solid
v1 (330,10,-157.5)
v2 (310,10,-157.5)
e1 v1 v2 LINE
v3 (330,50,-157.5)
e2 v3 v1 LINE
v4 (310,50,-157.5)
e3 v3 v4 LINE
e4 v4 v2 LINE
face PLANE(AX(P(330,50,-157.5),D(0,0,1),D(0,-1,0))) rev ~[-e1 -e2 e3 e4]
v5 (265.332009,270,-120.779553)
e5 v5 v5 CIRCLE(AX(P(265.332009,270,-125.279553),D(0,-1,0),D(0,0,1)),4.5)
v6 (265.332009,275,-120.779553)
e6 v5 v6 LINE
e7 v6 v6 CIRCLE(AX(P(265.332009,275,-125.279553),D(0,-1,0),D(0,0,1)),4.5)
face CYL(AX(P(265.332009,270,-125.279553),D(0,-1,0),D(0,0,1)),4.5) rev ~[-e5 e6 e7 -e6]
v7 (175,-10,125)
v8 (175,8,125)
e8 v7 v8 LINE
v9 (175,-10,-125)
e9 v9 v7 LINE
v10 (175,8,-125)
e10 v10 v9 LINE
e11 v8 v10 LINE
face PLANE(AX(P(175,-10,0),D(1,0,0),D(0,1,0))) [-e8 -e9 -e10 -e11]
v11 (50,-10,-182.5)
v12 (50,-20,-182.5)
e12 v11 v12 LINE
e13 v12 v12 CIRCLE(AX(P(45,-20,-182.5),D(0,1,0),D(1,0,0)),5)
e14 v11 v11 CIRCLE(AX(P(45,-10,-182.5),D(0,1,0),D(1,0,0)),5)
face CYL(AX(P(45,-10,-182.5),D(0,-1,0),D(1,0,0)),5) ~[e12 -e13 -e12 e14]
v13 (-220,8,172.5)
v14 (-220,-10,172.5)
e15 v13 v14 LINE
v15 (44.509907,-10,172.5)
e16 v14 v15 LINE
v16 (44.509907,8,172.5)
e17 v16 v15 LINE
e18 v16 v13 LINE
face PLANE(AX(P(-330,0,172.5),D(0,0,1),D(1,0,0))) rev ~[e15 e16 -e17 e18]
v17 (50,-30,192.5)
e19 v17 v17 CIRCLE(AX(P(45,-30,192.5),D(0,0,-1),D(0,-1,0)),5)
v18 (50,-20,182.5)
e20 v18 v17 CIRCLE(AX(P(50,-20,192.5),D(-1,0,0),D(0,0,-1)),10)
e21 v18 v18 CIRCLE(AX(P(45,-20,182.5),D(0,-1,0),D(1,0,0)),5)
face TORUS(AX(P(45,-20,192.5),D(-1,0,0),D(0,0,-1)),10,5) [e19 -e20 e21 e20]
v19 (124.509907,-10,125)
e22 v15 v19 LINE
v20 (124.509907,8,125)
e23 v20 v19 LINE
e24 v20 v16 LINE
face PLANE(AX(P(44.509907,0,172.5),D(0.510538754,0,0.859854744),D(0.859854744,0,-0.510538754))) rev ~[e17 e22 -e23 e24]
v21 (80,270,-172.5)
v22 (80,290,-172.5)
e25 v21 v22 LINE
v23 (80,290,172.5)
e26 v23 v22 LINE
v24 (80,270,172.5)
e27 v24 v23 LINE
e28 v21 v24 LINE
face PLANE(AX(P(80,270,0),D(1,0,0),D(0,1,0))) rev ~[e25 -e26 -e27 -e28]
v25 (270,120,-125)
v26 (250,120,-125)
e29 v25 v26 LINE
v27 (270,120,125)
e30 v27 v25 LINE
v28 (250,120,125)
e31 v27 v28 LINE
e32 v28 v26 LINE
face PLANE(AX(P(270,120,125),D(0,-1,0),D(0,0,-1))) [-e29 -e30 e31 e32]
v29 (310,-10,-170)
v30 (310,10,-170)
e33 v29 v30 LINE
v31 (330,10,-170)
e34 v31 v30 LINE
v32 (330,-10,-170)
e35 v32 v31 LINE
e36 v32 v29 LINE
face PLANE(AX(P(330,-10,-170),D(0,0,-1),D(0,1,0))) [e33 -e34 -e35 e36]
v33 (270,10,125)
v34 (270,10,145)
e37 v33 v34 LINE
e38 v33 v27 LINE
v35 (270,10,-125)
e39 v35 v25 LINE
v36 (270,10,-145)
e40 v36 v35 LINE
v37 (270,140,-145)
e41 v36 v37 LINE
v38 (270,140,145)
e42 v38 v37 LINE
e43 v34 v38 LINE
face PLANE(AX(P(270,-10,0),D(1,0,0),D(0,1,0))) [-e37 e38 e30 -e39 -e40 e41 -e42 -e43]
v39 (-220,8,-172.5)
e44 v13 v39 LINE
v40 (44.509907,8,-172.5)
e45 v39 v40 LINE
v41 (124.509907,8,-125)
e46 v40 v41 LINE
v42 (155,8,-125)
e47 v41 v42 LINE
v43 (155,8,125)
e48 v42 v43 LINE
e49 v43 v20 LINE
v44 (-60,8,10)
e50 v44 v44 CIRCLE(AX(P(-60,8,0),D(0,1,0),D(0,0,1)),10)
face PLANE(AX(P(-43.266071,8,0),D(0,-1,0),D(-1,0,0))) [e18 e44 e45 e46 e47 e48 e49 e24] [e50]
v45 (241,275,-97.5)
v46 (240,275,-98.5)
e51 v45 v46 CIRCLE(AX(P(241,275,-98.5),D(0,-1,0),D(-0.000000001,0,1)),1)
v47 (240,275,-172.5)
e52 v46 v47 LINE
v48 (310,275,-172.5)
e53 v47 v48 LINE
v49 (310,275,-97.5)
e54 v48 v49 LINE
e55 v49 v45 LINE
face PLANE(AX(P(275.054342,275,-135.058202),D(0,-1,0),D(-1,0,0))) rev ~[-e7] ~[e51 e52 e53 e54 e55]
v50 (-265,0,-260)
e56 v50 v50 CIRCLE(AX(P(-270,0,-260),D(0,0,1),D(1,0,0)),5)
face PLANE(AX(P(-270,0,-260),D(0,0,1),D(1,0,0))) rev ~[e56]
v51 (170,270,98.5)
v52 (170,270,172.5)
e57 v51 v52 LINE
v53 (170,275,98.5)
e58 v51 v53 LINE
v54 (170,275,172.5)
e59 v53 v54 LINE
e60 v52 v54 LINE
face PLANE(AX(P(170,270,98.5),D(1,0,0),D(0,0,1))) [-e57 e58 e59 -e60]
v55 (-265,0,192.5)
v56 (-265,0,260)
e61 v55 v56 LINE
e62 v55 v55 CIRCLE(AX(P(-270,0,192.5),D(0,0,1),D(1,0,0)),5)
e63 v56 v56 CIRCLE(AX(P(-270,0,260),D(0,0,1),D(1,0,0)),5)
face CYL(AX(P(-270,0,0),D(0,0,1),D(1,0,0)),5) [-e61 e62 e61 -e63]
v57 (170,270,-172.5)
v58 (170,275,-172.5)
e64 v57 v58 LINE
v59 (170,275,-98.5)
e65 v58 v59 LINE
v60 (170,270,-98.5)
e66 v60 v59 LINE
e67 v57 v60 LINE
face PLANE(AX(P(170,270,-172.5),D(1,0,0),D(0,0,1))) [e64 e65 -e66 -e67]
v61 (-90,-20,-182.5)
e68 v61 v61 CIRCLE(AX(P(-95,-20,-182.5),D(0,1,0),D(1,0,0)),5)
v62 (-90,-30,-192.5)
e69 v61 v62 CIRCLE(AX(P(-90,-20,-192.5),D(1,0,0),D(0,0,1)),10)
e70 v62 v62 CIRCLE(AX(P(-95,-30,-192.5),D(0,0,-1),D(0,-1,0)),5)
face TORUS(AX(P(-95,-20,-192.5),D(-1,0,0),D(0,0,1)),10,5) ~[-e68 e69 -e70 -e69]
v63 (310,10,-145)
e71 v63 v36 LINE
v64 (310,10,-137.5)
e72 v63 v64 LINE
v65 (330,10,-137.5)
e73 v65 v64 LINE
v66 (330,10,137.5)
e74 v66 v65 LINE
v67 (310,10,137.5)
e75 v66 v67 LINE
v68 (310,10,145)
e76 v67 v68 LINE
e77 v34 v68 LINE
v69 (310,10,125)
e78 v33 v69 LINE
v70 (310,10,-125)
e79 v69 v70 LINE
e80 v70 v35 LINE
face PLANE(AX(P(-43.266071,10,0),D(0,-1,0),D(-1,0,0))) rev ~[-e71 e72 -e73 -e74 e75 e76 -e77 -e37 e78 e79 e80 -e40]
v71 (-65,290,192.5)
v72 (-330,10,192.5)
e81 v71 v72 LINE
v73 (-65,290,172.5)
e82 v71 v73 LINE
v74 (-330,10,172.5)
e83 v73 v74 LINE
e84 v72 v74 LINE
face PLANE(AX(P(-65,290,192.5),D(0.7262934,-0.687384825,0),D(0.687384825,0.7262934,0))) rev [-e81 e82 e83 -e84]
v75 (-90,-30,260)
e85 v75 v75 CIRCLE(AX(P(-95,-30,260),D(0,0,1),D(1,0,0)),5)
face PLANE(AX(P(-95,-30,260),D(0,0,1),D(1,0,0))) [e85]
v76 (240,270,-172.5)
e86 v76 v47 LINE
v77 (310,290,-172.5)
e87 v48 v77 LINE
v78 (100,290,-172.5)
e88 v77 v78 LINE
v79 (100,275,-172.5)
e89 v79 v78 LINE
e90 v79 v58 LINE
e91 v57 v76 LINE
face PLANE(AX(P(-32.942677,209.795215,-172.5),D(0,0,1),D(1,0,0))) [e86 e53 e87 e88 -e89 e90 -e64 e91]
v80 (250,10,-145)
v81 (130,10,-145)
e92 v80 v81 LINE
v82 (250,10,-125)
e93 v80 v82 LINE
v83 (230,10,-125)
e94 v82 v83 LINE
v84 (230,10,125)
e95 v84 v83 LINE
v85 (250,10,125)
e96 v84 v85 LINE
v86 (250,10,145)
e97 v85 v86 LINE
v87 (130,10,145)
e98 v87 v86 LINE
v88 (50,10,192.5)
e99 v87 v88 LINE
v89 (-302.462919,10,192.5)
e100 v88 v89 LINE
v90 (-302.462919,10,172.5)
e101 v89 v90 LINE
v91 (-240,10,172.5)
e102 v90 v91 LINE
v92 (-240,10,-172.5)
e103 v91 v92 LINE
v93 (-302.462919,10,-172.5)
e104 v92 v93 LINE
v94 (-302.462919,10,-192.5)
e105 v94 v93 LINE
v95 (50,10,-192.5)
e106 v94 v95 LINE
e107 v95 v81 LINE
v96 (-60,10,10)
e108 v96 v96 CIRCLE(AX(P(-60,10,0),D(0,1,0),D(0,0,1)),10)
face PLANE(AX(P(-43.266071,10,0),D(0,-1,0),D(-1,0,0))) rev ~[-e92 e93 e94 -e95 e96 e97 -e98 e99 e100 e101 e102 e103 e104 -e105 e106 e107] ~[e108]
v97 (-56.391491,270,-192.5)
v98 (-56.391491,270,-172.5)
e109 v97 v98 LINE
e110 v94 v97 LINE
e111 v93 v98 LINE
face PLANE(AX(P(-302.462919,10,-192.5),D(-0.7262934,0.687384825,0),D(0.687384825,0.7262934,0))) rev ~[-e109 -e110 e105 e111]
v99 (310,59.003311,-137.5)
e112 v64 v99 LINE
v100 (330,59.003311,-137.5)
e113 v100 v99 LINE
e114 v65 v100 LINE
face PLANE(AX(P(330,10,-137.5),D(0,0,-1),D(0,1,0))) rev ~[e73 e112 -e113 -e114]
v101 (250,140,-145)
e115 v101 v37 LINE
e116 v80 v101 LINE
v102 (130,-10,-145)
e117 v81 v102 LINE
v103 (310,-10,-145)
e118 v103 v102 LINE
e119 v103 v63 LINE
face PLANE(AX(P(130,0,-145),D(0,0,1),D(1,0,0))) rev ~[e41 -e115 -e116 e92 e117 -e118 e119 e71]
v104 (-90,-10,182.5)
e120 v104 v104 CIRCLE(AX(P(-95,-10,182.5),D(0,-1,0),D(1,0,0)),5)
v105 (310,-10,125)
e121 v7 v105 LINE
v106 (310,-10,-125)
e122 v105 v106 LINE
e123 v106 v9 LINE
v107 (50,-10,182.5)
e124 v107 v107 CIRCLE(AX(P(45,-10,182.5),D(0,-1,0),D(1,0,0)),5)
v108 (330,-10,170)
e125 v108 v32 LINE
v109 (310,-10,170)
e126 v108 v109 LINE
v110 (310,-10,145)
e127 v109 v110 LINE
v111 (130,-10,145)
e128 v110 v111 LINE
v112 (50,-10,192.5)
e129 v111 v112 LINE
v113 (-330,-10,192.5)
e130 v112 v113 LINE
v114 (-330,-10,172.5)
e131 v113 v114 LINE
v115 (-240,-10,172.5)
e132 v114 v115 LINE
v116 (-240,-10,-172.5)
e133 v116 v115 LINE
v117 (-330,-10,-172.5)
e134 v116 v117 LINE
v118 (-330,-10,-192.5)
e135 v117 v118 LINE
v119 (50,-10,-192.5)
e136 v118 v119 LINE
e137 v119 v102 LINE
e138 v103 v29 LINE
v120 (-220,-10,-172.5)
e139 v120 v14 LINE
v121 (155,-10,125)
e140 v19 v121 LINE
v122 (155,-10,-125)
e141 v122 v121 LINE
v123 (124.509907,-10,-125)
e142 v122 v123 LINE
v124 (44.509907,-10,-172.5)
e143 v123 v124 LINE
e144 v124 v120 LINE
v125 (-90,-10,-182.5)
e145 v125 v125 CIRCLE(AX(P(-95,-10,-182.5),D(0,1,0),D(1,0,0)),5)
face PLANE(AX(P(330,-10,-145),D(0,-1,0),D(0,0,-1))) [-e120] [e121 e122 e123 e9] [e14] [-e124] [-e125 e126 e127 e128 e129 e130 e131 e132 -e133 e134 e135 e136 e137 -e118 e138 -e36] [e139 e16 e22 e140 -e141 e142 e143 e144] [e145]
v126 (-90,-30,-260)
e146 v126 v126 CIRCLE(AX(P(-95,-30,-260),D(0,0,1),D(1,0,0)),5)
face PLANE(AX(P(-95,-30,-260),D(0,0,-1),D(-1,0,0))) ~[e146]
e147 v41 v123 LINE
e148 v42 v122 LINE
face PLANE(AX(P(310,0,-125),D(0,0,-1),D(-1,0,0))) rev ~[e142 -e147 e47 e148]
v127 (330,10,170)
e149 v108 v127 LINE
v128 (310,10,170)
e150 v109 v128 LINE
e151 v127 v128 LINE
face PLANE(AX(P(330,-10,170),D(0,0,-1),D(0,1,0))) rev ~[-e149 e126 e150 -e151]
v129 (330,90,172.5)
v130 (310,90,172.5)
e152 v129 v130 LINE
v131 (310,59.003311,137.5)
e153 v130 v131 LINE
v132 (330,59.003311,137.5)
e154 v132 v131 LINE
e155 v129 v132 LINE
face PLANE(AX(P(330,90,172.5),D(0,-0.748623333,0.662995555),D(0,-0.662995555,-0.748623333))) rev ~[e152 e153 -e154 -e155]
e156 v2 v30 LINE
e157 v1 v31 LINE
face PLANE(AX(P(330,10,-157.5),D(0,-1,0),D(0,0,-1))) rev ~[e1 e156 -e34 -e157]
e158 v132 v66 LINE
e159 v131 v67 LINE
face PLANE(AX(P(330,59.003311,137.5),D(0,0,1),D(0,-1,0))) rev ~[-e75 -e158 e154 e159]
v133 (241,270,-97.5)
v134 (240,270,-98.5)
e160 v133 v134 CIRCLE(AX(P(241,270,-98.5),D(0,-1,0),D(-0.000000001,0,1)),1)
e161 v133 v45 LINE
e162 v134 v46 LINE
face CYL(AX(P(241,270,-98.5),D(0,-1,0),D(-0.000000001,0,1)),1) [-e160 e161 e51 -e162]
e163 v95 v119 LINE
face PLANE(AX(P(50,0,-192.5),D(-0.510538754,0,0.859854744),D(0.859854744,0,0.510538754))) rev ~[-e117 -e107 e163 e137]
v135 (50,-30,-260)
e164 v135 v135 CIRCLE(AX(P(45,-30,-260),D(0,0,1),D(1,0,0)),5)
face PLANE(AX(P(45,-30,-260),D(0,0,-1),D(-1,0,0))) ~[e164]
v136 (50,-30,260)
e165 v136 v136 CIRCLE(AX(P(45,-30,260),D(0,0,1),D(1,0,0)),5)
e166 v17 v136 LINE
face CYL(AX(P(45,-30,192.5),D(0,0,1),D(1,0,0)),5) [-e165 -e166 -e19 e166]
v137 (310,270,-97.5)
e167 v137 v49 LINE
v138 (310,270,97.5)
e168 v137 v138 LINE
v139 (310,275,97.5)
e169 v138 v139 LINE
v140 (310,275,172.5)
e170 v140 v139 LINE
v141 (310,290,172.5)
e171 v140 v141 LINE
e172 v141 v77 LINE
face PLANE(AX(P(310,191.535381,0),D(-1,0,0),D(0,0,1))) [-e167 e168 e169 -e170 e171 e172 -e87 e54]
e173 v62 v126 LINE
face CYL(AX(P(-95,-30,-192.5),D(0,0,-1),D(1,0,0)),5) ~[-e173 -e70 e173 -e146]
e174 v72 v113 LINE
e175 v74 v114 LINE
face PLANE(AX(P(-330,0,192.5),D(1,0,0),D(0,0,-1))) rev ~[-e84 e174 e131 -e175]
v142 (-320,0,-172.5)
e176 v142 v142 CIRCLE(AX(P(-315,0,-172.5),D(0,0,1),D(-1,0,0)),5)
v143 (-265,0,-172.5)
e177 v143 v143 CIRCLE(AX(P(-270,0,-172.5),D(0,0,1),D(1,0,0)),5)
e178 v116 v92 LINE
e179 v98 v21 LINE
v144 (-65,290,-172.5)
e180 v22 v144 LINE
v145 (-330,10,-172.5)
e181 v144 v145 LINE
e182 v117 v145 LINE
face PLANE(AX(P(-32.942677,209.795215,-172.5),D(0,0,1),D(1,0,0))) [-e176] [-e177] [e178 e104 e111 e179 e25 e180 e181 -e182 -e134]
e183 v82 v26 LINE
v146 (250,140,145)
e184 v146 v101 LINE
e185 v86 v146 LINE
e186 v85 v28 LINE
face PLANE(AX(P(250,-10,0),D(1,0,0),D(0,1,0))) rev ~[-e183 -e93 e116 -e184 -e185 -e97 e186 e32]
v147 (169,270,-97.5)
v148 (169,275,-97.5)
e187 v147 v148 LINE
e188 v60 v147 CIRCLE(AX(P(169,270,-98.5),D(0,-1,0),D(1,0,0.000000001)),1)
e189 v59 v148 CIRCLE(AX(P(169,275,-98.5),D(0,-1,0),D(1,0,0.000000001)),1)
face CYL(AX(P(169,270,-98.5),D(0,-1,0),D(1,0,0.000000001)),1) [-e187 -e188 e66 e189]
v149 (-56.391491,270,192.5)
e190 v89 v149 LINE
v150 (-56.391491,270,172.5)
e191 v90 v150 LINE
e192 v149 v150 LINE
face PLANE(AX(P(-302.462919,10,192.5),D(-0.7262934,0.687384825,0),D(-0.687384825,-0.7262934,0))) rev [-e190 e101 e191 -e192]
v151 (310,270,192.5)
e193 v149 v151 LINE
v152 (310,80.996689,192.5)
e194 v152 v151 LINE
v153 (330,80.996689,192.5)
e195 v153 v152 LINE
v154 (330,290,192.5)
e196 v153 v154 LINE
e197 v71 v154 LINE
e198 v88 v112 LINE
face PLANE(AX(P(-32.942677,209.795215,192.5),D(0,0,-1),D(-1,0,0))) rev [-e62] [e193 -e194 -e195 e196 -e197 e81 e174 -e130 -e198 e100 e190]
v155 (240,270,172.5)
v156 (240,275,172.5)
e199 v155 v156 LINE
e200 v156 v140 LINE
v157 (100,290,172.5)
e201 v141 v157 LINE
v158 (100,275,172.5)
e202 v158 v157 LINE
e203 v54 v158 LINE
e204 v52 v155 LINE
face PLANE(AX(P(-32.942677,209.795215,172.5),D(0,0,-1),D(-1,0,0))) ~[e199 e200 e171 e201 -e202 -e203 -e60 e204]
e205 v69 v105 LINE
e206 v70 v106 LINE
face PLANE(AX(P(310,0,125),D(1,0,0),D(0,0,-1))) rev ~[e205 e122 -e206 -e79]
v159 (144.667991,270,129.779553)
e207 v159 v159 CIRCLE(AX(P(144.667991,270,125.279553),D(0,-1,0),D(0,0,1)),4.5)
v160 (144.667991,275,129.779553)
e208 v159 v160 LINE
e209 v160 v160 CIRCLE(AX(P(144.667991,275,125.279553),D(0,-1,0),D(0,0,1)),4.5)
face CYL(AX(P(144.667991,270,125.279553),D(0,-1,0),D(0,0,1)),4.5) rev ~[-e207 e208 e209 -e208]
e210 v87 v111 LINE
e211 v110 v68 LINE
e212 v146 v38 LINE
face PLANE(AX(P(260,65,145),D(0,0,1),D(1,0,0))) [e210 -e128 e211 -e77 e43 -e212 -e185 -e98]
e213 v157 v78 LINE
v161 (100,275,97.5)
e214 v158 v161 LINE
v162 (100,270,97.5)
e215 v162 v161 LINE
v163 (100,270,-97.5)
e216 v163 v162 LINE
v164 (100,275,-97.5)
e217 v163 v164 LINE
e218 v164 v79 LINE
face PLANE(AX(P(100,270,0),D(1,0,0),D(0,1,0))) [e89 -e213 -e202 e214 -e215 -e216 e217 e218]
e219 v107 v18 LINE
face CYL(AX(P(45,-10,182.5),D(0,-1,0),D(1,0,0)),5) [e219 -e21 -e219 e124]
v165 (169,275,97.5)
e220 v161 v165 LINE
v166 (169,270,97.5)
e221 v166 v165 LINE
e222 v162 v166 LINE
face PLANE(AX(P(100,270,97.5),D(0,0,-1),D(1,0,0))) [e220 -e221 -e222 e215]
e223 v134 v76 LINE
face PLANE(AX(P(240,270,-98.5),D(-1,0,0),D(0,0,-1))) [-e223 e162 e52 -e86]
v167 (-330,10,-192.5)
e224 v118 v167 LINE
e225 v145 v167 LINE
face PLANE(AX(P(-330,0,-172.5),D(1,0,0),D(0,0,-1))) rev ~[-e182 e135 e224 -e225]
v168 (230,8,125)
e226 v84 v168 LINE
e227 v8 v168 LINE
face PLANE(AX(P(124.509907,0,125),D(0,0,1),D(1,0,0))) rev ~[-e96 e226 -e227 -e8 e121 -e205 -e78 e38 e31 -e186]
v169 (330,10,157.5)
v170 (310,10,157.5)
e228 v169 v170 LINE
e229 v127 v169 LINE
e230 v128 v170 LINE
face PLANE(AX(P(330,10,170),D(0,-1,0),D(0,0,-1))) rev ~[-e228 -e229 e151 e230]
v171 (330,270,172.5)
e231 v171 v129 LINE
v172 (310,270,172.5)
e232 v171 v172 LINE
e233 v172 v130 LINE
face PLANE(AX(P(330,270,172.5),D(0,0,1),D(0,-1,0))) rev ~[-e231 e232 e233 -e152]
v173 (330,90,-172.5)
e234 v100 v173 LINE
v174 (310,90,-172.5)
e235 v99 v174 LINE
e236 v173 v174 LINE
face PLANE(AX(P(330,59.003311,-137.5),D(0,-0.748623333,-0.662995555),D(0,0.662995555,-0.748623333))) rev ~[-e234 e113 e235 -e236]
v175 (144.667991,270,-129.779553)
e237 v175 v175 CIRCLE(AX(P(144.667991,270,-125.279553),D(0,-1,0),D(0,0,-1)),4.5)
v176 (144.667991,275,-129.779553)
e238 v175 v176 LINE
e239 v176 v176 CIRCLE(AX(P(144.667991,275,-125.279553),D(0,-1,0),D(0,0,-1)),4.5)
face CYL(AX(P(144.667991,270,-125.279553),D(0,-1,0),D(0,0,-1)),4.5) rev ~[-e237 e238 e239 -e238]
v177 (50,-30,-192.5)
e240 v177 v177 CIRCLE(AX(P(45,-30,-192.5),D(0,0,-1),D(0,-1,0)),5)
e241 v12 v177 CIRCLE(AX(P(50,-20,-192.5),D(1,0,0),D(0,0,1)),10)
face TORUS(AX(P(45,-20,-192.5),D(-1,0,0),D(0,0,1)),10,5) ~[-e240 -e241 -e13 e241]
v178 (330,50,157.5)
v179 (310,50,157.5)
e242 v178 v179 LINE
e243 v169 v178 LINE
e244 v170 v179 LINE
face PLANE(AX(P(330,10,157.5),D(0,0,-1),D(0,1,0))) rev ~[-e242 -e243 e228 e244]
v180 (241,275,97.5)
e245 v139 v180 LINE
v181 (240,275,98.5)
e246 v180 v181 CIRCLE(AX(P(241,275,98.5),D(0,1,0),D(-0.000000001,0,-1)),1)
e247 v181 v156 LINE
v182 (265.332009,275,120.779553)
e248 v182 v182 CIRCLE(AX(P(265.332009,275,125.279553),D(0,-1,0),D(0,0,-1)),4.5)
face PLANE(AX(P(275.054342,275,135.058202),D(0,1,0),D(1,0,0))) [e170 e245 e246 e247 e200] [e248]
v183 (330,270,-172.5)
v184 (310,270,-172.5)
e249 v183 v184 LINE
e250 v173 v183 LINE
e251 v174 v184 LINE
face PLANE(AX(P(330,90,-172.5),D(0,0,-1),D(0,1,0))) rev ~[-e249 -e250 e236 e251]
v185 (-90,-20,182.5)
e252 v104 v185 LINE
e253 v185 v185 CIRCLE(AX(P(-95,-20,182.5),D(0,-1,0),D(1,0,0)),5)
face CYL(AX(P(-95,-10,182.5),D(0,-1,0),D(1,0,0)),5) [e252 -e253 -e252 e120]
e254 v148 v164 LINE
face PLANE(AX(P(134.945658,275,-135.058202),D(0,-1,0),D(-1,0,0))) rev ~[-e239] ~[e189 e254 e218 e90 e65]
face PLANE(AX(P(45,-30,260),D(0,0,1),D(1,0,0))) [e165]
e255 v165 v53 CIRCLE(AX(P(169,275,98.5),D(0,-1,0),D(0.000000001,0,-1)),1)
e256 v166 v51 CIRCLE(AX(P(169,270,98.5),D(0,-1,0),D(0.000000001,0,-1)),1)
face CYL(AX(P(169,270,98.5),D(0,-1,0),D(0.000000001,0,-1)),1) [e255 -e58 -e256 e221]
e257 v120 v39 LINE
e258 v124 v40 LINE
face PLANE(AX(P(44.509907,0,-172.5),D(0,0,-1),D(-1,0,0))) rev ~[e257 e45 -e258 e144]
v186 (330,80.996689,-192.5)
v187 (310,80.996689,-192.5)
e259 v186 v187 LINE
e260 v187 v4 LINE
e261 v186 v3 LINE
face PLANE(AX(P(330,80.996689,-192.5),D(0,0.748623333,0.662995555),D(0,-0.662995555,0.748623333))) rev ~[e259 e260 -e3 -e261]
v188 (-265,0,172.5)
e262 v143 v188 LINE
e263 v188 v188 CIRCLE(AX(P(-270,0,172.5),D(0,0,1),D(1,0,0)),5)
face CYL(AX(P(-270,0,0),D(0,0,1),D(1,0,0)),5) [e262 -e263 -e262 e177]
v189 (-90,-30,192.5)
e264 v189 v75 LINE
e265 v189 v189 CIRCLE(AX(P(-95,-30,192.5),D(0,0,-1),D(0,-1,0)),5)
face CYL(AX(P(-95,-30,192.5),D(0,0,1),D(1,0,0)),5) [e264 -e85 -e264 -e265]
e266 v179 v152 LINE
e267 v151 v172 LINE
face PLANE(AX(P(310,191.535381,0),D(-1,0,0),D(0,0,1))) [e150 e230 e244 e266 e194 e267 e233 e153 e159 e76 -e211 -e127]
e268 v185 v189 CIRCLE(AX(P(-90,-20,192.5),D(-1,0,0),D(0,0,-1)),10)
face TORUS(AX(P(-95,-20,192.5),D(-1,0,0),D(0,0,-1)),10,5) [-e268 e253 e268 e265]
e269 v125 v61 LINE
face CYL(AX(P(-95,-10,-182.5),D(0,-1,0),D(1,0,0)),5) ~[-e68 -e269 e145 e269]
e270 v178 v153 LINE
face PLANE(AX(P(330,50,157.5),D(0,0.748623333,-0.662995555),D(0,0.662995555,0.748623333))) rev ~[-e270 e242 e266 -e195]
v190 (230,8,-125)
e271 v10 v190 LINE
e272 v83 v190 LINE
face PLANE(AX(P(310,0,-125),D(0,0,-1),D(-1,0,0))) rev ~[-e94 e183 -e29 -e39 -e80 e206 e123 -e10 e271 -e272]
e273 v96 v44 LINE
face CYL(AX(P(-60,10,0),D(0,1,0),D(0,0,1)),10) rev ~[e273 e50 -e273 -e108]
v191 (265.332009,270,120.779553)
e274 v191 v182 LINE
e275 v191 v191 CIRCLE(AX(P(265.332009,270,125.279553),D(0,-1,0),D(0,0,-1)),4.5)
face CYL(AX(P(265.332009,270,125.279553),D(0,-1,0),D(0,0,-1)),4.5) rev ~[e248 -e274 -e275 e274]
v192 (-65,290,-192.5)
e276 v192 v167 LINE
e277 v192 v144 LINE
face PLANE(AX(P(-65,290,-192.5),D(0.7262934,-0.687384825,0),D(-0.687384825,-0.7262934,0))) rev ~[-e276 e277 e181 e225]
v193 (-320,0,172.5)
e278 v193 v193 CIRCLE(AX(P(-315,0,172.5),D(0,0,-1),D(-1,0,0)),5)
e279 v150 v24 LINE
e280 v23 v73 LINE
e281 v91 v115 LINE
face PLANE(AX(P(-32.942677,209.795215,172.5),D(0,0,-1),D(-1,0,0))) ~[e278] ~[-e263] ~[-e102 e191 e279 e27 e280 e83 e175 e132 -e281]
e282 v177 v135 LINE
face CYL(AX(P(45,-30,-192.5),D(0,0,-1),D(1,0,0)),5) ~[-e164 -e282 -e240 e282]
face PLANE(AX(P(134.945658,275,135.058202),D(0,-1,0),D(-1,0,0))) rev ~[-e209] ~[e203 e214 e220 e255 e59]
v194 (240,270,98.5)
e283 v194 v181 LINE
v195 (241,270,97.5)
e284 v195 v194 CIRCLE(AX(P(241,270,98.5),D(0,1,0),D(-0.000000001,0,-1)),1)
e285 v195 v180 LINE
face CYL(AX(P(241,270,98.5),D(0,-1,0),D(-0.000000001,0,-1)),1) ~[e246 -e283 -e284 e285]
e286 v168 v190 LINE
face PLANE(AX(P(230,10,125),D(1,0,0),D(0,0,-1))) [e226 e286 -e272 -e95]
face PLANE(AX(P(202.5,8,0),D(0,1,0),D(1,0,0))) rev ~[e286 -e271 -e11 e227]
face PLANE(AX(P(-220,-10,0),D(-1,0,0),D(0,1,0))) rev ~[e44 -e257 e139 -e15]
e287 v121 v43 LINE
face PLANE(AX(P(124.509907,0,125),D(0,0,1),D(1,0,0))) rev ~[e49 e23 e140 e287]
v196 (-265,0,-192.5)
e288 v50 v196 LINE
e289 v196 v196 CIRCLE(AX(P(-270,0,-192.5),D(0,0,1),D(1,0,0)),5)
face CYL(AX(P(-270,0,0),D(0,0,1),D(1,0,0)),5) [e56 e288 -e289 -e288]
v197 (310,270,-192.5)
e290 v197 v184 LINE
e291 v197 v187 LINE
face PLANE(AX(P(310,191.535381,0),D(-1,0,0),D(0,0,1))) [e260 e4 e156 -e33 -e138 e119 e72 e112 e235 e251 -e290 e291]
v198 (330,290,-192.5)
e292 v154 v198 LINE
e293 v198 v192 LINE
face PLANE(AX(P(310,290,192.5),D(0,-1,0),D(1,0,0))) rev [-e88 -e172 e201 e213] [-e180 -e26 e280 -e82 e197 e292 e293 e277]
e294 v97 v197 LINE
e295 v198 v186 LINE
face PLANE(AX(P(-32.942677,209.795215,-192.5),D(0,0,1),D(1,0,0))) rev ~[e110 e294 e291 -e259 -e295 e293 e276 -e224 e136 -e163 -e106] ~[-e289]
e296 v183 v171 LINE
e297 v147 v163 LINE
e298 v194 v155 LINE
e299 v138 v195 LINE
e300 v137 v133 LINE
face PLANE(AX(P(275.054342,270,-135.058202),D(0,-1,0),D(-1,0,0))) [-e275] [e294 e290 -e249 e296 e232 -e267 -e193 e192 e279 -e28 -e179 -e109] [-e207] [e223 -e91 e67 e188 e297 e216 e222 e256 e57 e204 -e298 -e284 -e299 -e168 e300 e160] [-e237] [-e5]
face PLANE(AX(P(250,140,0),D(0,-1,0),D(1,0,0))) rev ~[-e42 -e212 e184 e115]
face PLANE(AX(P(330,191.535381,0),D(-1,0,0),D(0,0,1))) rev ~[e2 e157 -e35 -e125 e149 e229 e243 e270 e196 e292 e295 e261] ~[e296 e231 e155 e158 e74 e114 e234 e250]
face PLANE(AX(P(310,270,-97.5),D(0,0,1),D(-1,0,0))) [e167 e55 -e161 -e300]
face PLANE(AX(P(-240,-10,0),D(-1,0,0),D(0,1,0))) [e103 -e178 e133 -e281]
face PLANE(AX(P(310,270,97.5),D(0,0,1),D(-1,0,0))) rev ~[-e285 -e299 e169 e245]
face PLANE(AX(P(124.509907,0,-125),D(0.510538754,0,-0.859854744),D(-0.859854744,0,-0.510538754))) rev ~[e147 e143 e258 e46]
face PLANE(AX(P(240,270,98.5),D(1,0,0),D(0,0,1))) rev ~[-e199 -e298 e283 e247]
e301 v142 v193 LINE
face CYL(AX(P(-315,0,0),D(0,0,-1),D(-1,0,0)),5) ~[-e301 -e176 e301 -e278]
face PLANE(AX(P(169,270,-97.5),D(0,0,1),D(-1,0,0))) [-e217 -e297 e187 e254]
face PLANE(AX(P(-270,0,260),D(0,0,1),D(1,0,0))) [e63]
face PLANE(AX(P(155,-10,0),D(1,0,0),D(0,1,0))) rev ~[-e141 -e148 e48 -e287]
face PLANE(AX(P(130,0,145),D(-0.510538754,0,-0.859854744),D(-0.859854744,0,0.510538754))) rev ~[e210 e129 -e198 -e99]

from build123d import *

# Parameters (mm, degrees)
BOSS_EXTRUDE1_DEPTH = 10
SKETCH2_R           = 5
SKETCH2_W           = 20
SKETCH2_H           = 20
BOSS_EXTRUDE2_DEPTH = 175
SKETCH3_R           = 5
BOSS_EXTRUDE3_DEPTH = 260
SKETCH4_R           = 5
SKETCH5_W           = 30
SKETCH5_H           = 20
CUT_EXTRUDE1_DEPTH  = 20
SKETCH6_W           = 55
SKETCH6_H           = 250
BOSS_EXTRUDE4_DEPTH = 2
SKETCH7_R           = 10
CUT_EXTRUDE2_DEPTH  = 30
SKETCH8_W           = 20
SKETCH8_H           = 150
BOSS_EXTRUDE5_DEPTH = 145
SKETCH9_W           = 250
SKETCH9_H           = 130
CUT_EXTRUDE3_DEPTH  = 20
SKETCH10_W          = 25
SKETCH10_H          = 20
BOSS_EXTRUDE6_DEPTH = 20
BOSS_EXTRUDE7_DEPTH = 20
SKETCH14_W          = 20
SKETCH14_H          = 20
BOSS_EXTRUDE8_DEPTH = 175
SKETCH15_R          = 4.5
BOSS_EXTRUDE9_DEPTH = 5


with BuildPart() as part:
    # Sketch1 → Boss-Extrude1 (new, symmetric)
    with BuildSketch(Plane(origin=(0, 0, 0), x_dir=(1, 0, 0), z_dir=(0, 1, 0))):
        Polygon((-330, 192.5), (50, 192.5), (130, 145), (330, 145), (330, 125), (330, -125), (330, -145), (130, -145), (50, -192.5), (-330, -192.5), (-330, -172.5), (44.50990723, -172.5), (124.50990723, -125), (310, -125), (310, 125), (124.50990723, 125), (44.50990723, 172.5), (-330, 172.5), align=None)
    extrude(amount=BOSS_EXTRUDE1_DEPTH, both=True)

    # Sketch2 → Boss-Extrude2 (add, symmetric)
    with BuildSketch(Plane.XY):
        with Locations(Location((-315, 0, 0), (0, 0, 180))):
            Circle(SKETCH2_R)
        with Locations((-230, 0)):
            Rectangle(SKETCH2_W, SKETCH2_H)
        with Locations((165, 0)):
            Rectangle(SKETCH2_W, SKETCH2_H)
    extrude(amount=BOSS_EXTRUDE2_DEPTH, both=True)

    # Sketch3 → Boss-Extrude3 (add, symmetric)
    with BuildSketch(Plane.XY):
        with Locations((-270, 0)):
            Circle(SKETCH3_R)
    extrude(amount=BOSS_EXTRUDE3_DEPTH, both=True)

    # Sweep1: sweep along a curve in space
    with BuildLine() as sweep1_path:
        Line((-95, -10, 182.5), (-95, -20, 182.5))
        ThreePointArc((-95, -20, 182.5), (-95, -27.071067812, 185.428932188), (-95, -30, 192.5))
        Line((-95, -30, 192.5), (-95, -30, 260))
    # Sketch4 → Sweep1 (sweep)
    with BuildSketch(Plane.XZ.offset(10)):
        with Locations((-95, 182.5)):
            Circle(SKETCH4_R)
        with Locations((45, 182.5)):
            Circle(SKETCH4_R)
    sweep1 = sweep(path=sweep1_path.line)

    # Mirror1: Sweep1 across plane
    add(sweep1.mirror(Plane.XY))

    # Sketch5 → Cut-Extrude1 (cut)
    with BuildSketch(Plane(origin=(175, 0, 0), x_dir=(0, 0, -1), z_dir=(1, 0, 0))):
        with Locations((-160, 0)):
            Rectangle(SKETCH5_W, SKETCH5_H)
        with Locations((160, 0)):
            Rectangle(SKETCH5_W, SKETCH5_H)
    extrude(amount=-CUT_EXTRUDE1_DEPTH, mode=Mode.SUBTRACT)

    # Sketch6 → Boss-Extrude4 (add)
    with BuildSketch(Plane(origin=(0, 10, 0), x_dir=(1, 0, 0), z_dir=(0, 1, 0))):
        Polygon((-220, -172.5), (-220, 172.5), (44.50990723, 172.5), (124.50990723, 125), (155, 125), (155, -125), (124.50990723, -125), (44.50990723, -172.5), align=None)
        with Locations((202.5, 0)):
            Rectangle(SKETCH6_W, SKETCH6_H)
    extrude(amount=-BOSS_EXTRUDE4_DEPTH)

    # Sketch7 → Cut-Extrude2 (cut)
    with BuildSketch(Plane(origin=(0, 10, 0), x_dir=(1, 0, 0), z_dir=(0, 1, 0))):
        with Locations(Location((-60, 0, 0), (0, 0, 270))):
            Circle(SKETCH7_R)
    extrude(amount=-CUT_EXTRUDE2_DEPTH, mode=Mode.SUBTRACT)

    # Sketch8 → Boss-Extrude5 (add, symmetric)
    with BuildSketch(Plane.XY):
        with Locations((260, 65)):
            Rectangle(SKETCH8_W, SKETCH8_H)
    extrude(amount=BOSS_EXTRUDE5_DEPTH, both=True)

    # Sketch9 → Cut-Extrude3 (cut)
    with BuildSketch(Plane(origin=(270, 0, 0), x_dir=(0, 0, -1), z_dir=(1, 0, 0))):
        with Locations((0, 55)):
            Rectangle(SKETCH9_W, SKETCH9_H)
    extrude(amount=-CUT_EXTRUDE3_DEPTH, mode=Mode.SUBTRACT)

    # Sketch10 → Boss-Extrude6 (add)
    with BuildSketch(Plane(origin=(330, 0, 0), x_dir=(0, 0, -1), z_dir=(1, 0, 0))):
        Polygon((-157.5, 10), (-157.5, 50), (-192.5, 80.996688705), (-192.5, 290), (192.5, 290), (192.5, 80.996688705), (157.5, 50), (157.5, 10), (137.5, 10), (137.5, 59.003311295), (172.5, 90), (172.5, 270), (-172.5, 270), (-172.5, 90), (-137.5, 59.003311295), (-137.5, 10), align=None)
        with Locations((157.5, 0)):
            Rectangle(SKETCH10_W, SKETCH10_H)
        with Locations((-157.5, 0)):
            Rectangle(SKETCH10_W, SKETCH10_H)
    extrude(amount=-BOSS_EXTRUDE6_DEPTH)

    # Sketch13 → Boss-Extrude7 (add)
    with BuildSketch(Plane(origin=(0, 0, -192.5), x_dir=(-1, 0, 0), z_dir=(0, 0, -1))):
        Polygon((-310, 290), (65, 290), (330, 10), (302.462919248, 10), (56.391490677, 270), (-310, 270), align=None)
    boss_extrude7 = extrude(amount=-BOSS_EXTRUDE7_DEPTH)

    # Mirror2: Boss-Extrude7 across plane
    add(boss_extrude7.mirror(Plane.XY))

    # Sketch14 → Boss-Extrude8 (add, symmetric)
    with BuildSketch(Plane.XY):
        with Locations((90, 280)):
            Rectangle(SKETCH14_W, SKETCH14_H)
    extrude(amount=BOSS_EXTRUDE8_DEPTH, both=True)

    # Sketch15 → Boss-Extrude9 (add)
    # profile 1 of 4: a face of its own
    with BuildSketch(Plane(origin=(0, 270, 0), x_dir=(-1, 0, 0), z_dir=(0, -1, 0))):
        with BuildLine():
            Line((-310, 97.5), (-241, 97.5))
            ThreePointArc((-241, 97.5), (-240.292893219, 97.792893219), (-240, 98.5))
            Line((-240, 98.5), (-240, 172.5))
            Line((-240, 172.5), (-310, 172.5))
            Line((-310, 172.5), (-310, 97.5))
        make_face()
        with Locations(Location((-265.332009498, 125.279552898, 0), (0, 0, 270))):
            Circle(SKETCH15_R, mode=Mode.SUBTRACT)
    # profile 2 of 4: a face of its own
    with BuildSketch(Plane(origin=(0, 270, 0), x_dir=(-1, 0, 0), z_dir=(0, -1, 0))):
        with BuildLine():
            Line((-100, 172.5), (-170, 172.5))
            Line((-170, 172.5), (-170, 98.5))
            ThreePointArc((-170, 98.5), (-169.707106781, 97.792893219), (-169, 97.5))
            Line((-169, 97.5), (-100, 97.5))
            Line((-100, 97.5), (-100, 172.5))
        make_face()
        with Locations(Location((-144.667990502, 125.279552898, 0), (0, 0, 90))):
            Circle(SKETCH15_R, mode=Mode.SUBTRACT)
    # profile 3 of 4: a face of its own
    with BuildSketch(Plane(origin=(0, 270, 0), x_dir=(-1, 0, 0), z_dir=(0, -1, 0))):
        with BuildLine():
            Line((-310, -172.5), (-310, -97.5))
            Line((-310, -97.5), (-241, -97.5))
            ThreePointArc((-241, -97.5), (-240.292893219, -97.792893219), (-240, -98.5))
            Line((-240, -98.5), (-240, -172.5))
            Line((-240, -172.5), (-310, -172.5))
        make_face()
        with Locations(Location((-265.332009498, -125.279552898, 0), (0, 0, 90))):
            Circle(SKETCH15_R, mode=Mode.SUBTRACT)
    # profile 4 of 4: a face of its own
    with BuildSketch(Plane(origin=(0, 270, 0), x_dir=(-1, 0, 0), z_dir=(0, -1, 0))):
        with BuildLine():
            Line((-100, -97.5), (-169, -97.5))
            ThreePointArc((-169, -97.5), (-169.707106781, -97.792893219), (-170, -98.5))
            Line((-170, -98.5), (-170, -172.5))
            Line((-170, -172.5), (-100, -172.5))
            Line((-100, -172.5), (-100, -97.5))
        make_face()
        with Locations(Location((-144.667990502, -125.279552898, 0), (0, 0, 270))):
            Circle(SKETCH15_R, mode=Mode.SUBTRACT)
    extrude(amount=-BOSS_EXTRUDE9_DEPTH)


solid = part.part
